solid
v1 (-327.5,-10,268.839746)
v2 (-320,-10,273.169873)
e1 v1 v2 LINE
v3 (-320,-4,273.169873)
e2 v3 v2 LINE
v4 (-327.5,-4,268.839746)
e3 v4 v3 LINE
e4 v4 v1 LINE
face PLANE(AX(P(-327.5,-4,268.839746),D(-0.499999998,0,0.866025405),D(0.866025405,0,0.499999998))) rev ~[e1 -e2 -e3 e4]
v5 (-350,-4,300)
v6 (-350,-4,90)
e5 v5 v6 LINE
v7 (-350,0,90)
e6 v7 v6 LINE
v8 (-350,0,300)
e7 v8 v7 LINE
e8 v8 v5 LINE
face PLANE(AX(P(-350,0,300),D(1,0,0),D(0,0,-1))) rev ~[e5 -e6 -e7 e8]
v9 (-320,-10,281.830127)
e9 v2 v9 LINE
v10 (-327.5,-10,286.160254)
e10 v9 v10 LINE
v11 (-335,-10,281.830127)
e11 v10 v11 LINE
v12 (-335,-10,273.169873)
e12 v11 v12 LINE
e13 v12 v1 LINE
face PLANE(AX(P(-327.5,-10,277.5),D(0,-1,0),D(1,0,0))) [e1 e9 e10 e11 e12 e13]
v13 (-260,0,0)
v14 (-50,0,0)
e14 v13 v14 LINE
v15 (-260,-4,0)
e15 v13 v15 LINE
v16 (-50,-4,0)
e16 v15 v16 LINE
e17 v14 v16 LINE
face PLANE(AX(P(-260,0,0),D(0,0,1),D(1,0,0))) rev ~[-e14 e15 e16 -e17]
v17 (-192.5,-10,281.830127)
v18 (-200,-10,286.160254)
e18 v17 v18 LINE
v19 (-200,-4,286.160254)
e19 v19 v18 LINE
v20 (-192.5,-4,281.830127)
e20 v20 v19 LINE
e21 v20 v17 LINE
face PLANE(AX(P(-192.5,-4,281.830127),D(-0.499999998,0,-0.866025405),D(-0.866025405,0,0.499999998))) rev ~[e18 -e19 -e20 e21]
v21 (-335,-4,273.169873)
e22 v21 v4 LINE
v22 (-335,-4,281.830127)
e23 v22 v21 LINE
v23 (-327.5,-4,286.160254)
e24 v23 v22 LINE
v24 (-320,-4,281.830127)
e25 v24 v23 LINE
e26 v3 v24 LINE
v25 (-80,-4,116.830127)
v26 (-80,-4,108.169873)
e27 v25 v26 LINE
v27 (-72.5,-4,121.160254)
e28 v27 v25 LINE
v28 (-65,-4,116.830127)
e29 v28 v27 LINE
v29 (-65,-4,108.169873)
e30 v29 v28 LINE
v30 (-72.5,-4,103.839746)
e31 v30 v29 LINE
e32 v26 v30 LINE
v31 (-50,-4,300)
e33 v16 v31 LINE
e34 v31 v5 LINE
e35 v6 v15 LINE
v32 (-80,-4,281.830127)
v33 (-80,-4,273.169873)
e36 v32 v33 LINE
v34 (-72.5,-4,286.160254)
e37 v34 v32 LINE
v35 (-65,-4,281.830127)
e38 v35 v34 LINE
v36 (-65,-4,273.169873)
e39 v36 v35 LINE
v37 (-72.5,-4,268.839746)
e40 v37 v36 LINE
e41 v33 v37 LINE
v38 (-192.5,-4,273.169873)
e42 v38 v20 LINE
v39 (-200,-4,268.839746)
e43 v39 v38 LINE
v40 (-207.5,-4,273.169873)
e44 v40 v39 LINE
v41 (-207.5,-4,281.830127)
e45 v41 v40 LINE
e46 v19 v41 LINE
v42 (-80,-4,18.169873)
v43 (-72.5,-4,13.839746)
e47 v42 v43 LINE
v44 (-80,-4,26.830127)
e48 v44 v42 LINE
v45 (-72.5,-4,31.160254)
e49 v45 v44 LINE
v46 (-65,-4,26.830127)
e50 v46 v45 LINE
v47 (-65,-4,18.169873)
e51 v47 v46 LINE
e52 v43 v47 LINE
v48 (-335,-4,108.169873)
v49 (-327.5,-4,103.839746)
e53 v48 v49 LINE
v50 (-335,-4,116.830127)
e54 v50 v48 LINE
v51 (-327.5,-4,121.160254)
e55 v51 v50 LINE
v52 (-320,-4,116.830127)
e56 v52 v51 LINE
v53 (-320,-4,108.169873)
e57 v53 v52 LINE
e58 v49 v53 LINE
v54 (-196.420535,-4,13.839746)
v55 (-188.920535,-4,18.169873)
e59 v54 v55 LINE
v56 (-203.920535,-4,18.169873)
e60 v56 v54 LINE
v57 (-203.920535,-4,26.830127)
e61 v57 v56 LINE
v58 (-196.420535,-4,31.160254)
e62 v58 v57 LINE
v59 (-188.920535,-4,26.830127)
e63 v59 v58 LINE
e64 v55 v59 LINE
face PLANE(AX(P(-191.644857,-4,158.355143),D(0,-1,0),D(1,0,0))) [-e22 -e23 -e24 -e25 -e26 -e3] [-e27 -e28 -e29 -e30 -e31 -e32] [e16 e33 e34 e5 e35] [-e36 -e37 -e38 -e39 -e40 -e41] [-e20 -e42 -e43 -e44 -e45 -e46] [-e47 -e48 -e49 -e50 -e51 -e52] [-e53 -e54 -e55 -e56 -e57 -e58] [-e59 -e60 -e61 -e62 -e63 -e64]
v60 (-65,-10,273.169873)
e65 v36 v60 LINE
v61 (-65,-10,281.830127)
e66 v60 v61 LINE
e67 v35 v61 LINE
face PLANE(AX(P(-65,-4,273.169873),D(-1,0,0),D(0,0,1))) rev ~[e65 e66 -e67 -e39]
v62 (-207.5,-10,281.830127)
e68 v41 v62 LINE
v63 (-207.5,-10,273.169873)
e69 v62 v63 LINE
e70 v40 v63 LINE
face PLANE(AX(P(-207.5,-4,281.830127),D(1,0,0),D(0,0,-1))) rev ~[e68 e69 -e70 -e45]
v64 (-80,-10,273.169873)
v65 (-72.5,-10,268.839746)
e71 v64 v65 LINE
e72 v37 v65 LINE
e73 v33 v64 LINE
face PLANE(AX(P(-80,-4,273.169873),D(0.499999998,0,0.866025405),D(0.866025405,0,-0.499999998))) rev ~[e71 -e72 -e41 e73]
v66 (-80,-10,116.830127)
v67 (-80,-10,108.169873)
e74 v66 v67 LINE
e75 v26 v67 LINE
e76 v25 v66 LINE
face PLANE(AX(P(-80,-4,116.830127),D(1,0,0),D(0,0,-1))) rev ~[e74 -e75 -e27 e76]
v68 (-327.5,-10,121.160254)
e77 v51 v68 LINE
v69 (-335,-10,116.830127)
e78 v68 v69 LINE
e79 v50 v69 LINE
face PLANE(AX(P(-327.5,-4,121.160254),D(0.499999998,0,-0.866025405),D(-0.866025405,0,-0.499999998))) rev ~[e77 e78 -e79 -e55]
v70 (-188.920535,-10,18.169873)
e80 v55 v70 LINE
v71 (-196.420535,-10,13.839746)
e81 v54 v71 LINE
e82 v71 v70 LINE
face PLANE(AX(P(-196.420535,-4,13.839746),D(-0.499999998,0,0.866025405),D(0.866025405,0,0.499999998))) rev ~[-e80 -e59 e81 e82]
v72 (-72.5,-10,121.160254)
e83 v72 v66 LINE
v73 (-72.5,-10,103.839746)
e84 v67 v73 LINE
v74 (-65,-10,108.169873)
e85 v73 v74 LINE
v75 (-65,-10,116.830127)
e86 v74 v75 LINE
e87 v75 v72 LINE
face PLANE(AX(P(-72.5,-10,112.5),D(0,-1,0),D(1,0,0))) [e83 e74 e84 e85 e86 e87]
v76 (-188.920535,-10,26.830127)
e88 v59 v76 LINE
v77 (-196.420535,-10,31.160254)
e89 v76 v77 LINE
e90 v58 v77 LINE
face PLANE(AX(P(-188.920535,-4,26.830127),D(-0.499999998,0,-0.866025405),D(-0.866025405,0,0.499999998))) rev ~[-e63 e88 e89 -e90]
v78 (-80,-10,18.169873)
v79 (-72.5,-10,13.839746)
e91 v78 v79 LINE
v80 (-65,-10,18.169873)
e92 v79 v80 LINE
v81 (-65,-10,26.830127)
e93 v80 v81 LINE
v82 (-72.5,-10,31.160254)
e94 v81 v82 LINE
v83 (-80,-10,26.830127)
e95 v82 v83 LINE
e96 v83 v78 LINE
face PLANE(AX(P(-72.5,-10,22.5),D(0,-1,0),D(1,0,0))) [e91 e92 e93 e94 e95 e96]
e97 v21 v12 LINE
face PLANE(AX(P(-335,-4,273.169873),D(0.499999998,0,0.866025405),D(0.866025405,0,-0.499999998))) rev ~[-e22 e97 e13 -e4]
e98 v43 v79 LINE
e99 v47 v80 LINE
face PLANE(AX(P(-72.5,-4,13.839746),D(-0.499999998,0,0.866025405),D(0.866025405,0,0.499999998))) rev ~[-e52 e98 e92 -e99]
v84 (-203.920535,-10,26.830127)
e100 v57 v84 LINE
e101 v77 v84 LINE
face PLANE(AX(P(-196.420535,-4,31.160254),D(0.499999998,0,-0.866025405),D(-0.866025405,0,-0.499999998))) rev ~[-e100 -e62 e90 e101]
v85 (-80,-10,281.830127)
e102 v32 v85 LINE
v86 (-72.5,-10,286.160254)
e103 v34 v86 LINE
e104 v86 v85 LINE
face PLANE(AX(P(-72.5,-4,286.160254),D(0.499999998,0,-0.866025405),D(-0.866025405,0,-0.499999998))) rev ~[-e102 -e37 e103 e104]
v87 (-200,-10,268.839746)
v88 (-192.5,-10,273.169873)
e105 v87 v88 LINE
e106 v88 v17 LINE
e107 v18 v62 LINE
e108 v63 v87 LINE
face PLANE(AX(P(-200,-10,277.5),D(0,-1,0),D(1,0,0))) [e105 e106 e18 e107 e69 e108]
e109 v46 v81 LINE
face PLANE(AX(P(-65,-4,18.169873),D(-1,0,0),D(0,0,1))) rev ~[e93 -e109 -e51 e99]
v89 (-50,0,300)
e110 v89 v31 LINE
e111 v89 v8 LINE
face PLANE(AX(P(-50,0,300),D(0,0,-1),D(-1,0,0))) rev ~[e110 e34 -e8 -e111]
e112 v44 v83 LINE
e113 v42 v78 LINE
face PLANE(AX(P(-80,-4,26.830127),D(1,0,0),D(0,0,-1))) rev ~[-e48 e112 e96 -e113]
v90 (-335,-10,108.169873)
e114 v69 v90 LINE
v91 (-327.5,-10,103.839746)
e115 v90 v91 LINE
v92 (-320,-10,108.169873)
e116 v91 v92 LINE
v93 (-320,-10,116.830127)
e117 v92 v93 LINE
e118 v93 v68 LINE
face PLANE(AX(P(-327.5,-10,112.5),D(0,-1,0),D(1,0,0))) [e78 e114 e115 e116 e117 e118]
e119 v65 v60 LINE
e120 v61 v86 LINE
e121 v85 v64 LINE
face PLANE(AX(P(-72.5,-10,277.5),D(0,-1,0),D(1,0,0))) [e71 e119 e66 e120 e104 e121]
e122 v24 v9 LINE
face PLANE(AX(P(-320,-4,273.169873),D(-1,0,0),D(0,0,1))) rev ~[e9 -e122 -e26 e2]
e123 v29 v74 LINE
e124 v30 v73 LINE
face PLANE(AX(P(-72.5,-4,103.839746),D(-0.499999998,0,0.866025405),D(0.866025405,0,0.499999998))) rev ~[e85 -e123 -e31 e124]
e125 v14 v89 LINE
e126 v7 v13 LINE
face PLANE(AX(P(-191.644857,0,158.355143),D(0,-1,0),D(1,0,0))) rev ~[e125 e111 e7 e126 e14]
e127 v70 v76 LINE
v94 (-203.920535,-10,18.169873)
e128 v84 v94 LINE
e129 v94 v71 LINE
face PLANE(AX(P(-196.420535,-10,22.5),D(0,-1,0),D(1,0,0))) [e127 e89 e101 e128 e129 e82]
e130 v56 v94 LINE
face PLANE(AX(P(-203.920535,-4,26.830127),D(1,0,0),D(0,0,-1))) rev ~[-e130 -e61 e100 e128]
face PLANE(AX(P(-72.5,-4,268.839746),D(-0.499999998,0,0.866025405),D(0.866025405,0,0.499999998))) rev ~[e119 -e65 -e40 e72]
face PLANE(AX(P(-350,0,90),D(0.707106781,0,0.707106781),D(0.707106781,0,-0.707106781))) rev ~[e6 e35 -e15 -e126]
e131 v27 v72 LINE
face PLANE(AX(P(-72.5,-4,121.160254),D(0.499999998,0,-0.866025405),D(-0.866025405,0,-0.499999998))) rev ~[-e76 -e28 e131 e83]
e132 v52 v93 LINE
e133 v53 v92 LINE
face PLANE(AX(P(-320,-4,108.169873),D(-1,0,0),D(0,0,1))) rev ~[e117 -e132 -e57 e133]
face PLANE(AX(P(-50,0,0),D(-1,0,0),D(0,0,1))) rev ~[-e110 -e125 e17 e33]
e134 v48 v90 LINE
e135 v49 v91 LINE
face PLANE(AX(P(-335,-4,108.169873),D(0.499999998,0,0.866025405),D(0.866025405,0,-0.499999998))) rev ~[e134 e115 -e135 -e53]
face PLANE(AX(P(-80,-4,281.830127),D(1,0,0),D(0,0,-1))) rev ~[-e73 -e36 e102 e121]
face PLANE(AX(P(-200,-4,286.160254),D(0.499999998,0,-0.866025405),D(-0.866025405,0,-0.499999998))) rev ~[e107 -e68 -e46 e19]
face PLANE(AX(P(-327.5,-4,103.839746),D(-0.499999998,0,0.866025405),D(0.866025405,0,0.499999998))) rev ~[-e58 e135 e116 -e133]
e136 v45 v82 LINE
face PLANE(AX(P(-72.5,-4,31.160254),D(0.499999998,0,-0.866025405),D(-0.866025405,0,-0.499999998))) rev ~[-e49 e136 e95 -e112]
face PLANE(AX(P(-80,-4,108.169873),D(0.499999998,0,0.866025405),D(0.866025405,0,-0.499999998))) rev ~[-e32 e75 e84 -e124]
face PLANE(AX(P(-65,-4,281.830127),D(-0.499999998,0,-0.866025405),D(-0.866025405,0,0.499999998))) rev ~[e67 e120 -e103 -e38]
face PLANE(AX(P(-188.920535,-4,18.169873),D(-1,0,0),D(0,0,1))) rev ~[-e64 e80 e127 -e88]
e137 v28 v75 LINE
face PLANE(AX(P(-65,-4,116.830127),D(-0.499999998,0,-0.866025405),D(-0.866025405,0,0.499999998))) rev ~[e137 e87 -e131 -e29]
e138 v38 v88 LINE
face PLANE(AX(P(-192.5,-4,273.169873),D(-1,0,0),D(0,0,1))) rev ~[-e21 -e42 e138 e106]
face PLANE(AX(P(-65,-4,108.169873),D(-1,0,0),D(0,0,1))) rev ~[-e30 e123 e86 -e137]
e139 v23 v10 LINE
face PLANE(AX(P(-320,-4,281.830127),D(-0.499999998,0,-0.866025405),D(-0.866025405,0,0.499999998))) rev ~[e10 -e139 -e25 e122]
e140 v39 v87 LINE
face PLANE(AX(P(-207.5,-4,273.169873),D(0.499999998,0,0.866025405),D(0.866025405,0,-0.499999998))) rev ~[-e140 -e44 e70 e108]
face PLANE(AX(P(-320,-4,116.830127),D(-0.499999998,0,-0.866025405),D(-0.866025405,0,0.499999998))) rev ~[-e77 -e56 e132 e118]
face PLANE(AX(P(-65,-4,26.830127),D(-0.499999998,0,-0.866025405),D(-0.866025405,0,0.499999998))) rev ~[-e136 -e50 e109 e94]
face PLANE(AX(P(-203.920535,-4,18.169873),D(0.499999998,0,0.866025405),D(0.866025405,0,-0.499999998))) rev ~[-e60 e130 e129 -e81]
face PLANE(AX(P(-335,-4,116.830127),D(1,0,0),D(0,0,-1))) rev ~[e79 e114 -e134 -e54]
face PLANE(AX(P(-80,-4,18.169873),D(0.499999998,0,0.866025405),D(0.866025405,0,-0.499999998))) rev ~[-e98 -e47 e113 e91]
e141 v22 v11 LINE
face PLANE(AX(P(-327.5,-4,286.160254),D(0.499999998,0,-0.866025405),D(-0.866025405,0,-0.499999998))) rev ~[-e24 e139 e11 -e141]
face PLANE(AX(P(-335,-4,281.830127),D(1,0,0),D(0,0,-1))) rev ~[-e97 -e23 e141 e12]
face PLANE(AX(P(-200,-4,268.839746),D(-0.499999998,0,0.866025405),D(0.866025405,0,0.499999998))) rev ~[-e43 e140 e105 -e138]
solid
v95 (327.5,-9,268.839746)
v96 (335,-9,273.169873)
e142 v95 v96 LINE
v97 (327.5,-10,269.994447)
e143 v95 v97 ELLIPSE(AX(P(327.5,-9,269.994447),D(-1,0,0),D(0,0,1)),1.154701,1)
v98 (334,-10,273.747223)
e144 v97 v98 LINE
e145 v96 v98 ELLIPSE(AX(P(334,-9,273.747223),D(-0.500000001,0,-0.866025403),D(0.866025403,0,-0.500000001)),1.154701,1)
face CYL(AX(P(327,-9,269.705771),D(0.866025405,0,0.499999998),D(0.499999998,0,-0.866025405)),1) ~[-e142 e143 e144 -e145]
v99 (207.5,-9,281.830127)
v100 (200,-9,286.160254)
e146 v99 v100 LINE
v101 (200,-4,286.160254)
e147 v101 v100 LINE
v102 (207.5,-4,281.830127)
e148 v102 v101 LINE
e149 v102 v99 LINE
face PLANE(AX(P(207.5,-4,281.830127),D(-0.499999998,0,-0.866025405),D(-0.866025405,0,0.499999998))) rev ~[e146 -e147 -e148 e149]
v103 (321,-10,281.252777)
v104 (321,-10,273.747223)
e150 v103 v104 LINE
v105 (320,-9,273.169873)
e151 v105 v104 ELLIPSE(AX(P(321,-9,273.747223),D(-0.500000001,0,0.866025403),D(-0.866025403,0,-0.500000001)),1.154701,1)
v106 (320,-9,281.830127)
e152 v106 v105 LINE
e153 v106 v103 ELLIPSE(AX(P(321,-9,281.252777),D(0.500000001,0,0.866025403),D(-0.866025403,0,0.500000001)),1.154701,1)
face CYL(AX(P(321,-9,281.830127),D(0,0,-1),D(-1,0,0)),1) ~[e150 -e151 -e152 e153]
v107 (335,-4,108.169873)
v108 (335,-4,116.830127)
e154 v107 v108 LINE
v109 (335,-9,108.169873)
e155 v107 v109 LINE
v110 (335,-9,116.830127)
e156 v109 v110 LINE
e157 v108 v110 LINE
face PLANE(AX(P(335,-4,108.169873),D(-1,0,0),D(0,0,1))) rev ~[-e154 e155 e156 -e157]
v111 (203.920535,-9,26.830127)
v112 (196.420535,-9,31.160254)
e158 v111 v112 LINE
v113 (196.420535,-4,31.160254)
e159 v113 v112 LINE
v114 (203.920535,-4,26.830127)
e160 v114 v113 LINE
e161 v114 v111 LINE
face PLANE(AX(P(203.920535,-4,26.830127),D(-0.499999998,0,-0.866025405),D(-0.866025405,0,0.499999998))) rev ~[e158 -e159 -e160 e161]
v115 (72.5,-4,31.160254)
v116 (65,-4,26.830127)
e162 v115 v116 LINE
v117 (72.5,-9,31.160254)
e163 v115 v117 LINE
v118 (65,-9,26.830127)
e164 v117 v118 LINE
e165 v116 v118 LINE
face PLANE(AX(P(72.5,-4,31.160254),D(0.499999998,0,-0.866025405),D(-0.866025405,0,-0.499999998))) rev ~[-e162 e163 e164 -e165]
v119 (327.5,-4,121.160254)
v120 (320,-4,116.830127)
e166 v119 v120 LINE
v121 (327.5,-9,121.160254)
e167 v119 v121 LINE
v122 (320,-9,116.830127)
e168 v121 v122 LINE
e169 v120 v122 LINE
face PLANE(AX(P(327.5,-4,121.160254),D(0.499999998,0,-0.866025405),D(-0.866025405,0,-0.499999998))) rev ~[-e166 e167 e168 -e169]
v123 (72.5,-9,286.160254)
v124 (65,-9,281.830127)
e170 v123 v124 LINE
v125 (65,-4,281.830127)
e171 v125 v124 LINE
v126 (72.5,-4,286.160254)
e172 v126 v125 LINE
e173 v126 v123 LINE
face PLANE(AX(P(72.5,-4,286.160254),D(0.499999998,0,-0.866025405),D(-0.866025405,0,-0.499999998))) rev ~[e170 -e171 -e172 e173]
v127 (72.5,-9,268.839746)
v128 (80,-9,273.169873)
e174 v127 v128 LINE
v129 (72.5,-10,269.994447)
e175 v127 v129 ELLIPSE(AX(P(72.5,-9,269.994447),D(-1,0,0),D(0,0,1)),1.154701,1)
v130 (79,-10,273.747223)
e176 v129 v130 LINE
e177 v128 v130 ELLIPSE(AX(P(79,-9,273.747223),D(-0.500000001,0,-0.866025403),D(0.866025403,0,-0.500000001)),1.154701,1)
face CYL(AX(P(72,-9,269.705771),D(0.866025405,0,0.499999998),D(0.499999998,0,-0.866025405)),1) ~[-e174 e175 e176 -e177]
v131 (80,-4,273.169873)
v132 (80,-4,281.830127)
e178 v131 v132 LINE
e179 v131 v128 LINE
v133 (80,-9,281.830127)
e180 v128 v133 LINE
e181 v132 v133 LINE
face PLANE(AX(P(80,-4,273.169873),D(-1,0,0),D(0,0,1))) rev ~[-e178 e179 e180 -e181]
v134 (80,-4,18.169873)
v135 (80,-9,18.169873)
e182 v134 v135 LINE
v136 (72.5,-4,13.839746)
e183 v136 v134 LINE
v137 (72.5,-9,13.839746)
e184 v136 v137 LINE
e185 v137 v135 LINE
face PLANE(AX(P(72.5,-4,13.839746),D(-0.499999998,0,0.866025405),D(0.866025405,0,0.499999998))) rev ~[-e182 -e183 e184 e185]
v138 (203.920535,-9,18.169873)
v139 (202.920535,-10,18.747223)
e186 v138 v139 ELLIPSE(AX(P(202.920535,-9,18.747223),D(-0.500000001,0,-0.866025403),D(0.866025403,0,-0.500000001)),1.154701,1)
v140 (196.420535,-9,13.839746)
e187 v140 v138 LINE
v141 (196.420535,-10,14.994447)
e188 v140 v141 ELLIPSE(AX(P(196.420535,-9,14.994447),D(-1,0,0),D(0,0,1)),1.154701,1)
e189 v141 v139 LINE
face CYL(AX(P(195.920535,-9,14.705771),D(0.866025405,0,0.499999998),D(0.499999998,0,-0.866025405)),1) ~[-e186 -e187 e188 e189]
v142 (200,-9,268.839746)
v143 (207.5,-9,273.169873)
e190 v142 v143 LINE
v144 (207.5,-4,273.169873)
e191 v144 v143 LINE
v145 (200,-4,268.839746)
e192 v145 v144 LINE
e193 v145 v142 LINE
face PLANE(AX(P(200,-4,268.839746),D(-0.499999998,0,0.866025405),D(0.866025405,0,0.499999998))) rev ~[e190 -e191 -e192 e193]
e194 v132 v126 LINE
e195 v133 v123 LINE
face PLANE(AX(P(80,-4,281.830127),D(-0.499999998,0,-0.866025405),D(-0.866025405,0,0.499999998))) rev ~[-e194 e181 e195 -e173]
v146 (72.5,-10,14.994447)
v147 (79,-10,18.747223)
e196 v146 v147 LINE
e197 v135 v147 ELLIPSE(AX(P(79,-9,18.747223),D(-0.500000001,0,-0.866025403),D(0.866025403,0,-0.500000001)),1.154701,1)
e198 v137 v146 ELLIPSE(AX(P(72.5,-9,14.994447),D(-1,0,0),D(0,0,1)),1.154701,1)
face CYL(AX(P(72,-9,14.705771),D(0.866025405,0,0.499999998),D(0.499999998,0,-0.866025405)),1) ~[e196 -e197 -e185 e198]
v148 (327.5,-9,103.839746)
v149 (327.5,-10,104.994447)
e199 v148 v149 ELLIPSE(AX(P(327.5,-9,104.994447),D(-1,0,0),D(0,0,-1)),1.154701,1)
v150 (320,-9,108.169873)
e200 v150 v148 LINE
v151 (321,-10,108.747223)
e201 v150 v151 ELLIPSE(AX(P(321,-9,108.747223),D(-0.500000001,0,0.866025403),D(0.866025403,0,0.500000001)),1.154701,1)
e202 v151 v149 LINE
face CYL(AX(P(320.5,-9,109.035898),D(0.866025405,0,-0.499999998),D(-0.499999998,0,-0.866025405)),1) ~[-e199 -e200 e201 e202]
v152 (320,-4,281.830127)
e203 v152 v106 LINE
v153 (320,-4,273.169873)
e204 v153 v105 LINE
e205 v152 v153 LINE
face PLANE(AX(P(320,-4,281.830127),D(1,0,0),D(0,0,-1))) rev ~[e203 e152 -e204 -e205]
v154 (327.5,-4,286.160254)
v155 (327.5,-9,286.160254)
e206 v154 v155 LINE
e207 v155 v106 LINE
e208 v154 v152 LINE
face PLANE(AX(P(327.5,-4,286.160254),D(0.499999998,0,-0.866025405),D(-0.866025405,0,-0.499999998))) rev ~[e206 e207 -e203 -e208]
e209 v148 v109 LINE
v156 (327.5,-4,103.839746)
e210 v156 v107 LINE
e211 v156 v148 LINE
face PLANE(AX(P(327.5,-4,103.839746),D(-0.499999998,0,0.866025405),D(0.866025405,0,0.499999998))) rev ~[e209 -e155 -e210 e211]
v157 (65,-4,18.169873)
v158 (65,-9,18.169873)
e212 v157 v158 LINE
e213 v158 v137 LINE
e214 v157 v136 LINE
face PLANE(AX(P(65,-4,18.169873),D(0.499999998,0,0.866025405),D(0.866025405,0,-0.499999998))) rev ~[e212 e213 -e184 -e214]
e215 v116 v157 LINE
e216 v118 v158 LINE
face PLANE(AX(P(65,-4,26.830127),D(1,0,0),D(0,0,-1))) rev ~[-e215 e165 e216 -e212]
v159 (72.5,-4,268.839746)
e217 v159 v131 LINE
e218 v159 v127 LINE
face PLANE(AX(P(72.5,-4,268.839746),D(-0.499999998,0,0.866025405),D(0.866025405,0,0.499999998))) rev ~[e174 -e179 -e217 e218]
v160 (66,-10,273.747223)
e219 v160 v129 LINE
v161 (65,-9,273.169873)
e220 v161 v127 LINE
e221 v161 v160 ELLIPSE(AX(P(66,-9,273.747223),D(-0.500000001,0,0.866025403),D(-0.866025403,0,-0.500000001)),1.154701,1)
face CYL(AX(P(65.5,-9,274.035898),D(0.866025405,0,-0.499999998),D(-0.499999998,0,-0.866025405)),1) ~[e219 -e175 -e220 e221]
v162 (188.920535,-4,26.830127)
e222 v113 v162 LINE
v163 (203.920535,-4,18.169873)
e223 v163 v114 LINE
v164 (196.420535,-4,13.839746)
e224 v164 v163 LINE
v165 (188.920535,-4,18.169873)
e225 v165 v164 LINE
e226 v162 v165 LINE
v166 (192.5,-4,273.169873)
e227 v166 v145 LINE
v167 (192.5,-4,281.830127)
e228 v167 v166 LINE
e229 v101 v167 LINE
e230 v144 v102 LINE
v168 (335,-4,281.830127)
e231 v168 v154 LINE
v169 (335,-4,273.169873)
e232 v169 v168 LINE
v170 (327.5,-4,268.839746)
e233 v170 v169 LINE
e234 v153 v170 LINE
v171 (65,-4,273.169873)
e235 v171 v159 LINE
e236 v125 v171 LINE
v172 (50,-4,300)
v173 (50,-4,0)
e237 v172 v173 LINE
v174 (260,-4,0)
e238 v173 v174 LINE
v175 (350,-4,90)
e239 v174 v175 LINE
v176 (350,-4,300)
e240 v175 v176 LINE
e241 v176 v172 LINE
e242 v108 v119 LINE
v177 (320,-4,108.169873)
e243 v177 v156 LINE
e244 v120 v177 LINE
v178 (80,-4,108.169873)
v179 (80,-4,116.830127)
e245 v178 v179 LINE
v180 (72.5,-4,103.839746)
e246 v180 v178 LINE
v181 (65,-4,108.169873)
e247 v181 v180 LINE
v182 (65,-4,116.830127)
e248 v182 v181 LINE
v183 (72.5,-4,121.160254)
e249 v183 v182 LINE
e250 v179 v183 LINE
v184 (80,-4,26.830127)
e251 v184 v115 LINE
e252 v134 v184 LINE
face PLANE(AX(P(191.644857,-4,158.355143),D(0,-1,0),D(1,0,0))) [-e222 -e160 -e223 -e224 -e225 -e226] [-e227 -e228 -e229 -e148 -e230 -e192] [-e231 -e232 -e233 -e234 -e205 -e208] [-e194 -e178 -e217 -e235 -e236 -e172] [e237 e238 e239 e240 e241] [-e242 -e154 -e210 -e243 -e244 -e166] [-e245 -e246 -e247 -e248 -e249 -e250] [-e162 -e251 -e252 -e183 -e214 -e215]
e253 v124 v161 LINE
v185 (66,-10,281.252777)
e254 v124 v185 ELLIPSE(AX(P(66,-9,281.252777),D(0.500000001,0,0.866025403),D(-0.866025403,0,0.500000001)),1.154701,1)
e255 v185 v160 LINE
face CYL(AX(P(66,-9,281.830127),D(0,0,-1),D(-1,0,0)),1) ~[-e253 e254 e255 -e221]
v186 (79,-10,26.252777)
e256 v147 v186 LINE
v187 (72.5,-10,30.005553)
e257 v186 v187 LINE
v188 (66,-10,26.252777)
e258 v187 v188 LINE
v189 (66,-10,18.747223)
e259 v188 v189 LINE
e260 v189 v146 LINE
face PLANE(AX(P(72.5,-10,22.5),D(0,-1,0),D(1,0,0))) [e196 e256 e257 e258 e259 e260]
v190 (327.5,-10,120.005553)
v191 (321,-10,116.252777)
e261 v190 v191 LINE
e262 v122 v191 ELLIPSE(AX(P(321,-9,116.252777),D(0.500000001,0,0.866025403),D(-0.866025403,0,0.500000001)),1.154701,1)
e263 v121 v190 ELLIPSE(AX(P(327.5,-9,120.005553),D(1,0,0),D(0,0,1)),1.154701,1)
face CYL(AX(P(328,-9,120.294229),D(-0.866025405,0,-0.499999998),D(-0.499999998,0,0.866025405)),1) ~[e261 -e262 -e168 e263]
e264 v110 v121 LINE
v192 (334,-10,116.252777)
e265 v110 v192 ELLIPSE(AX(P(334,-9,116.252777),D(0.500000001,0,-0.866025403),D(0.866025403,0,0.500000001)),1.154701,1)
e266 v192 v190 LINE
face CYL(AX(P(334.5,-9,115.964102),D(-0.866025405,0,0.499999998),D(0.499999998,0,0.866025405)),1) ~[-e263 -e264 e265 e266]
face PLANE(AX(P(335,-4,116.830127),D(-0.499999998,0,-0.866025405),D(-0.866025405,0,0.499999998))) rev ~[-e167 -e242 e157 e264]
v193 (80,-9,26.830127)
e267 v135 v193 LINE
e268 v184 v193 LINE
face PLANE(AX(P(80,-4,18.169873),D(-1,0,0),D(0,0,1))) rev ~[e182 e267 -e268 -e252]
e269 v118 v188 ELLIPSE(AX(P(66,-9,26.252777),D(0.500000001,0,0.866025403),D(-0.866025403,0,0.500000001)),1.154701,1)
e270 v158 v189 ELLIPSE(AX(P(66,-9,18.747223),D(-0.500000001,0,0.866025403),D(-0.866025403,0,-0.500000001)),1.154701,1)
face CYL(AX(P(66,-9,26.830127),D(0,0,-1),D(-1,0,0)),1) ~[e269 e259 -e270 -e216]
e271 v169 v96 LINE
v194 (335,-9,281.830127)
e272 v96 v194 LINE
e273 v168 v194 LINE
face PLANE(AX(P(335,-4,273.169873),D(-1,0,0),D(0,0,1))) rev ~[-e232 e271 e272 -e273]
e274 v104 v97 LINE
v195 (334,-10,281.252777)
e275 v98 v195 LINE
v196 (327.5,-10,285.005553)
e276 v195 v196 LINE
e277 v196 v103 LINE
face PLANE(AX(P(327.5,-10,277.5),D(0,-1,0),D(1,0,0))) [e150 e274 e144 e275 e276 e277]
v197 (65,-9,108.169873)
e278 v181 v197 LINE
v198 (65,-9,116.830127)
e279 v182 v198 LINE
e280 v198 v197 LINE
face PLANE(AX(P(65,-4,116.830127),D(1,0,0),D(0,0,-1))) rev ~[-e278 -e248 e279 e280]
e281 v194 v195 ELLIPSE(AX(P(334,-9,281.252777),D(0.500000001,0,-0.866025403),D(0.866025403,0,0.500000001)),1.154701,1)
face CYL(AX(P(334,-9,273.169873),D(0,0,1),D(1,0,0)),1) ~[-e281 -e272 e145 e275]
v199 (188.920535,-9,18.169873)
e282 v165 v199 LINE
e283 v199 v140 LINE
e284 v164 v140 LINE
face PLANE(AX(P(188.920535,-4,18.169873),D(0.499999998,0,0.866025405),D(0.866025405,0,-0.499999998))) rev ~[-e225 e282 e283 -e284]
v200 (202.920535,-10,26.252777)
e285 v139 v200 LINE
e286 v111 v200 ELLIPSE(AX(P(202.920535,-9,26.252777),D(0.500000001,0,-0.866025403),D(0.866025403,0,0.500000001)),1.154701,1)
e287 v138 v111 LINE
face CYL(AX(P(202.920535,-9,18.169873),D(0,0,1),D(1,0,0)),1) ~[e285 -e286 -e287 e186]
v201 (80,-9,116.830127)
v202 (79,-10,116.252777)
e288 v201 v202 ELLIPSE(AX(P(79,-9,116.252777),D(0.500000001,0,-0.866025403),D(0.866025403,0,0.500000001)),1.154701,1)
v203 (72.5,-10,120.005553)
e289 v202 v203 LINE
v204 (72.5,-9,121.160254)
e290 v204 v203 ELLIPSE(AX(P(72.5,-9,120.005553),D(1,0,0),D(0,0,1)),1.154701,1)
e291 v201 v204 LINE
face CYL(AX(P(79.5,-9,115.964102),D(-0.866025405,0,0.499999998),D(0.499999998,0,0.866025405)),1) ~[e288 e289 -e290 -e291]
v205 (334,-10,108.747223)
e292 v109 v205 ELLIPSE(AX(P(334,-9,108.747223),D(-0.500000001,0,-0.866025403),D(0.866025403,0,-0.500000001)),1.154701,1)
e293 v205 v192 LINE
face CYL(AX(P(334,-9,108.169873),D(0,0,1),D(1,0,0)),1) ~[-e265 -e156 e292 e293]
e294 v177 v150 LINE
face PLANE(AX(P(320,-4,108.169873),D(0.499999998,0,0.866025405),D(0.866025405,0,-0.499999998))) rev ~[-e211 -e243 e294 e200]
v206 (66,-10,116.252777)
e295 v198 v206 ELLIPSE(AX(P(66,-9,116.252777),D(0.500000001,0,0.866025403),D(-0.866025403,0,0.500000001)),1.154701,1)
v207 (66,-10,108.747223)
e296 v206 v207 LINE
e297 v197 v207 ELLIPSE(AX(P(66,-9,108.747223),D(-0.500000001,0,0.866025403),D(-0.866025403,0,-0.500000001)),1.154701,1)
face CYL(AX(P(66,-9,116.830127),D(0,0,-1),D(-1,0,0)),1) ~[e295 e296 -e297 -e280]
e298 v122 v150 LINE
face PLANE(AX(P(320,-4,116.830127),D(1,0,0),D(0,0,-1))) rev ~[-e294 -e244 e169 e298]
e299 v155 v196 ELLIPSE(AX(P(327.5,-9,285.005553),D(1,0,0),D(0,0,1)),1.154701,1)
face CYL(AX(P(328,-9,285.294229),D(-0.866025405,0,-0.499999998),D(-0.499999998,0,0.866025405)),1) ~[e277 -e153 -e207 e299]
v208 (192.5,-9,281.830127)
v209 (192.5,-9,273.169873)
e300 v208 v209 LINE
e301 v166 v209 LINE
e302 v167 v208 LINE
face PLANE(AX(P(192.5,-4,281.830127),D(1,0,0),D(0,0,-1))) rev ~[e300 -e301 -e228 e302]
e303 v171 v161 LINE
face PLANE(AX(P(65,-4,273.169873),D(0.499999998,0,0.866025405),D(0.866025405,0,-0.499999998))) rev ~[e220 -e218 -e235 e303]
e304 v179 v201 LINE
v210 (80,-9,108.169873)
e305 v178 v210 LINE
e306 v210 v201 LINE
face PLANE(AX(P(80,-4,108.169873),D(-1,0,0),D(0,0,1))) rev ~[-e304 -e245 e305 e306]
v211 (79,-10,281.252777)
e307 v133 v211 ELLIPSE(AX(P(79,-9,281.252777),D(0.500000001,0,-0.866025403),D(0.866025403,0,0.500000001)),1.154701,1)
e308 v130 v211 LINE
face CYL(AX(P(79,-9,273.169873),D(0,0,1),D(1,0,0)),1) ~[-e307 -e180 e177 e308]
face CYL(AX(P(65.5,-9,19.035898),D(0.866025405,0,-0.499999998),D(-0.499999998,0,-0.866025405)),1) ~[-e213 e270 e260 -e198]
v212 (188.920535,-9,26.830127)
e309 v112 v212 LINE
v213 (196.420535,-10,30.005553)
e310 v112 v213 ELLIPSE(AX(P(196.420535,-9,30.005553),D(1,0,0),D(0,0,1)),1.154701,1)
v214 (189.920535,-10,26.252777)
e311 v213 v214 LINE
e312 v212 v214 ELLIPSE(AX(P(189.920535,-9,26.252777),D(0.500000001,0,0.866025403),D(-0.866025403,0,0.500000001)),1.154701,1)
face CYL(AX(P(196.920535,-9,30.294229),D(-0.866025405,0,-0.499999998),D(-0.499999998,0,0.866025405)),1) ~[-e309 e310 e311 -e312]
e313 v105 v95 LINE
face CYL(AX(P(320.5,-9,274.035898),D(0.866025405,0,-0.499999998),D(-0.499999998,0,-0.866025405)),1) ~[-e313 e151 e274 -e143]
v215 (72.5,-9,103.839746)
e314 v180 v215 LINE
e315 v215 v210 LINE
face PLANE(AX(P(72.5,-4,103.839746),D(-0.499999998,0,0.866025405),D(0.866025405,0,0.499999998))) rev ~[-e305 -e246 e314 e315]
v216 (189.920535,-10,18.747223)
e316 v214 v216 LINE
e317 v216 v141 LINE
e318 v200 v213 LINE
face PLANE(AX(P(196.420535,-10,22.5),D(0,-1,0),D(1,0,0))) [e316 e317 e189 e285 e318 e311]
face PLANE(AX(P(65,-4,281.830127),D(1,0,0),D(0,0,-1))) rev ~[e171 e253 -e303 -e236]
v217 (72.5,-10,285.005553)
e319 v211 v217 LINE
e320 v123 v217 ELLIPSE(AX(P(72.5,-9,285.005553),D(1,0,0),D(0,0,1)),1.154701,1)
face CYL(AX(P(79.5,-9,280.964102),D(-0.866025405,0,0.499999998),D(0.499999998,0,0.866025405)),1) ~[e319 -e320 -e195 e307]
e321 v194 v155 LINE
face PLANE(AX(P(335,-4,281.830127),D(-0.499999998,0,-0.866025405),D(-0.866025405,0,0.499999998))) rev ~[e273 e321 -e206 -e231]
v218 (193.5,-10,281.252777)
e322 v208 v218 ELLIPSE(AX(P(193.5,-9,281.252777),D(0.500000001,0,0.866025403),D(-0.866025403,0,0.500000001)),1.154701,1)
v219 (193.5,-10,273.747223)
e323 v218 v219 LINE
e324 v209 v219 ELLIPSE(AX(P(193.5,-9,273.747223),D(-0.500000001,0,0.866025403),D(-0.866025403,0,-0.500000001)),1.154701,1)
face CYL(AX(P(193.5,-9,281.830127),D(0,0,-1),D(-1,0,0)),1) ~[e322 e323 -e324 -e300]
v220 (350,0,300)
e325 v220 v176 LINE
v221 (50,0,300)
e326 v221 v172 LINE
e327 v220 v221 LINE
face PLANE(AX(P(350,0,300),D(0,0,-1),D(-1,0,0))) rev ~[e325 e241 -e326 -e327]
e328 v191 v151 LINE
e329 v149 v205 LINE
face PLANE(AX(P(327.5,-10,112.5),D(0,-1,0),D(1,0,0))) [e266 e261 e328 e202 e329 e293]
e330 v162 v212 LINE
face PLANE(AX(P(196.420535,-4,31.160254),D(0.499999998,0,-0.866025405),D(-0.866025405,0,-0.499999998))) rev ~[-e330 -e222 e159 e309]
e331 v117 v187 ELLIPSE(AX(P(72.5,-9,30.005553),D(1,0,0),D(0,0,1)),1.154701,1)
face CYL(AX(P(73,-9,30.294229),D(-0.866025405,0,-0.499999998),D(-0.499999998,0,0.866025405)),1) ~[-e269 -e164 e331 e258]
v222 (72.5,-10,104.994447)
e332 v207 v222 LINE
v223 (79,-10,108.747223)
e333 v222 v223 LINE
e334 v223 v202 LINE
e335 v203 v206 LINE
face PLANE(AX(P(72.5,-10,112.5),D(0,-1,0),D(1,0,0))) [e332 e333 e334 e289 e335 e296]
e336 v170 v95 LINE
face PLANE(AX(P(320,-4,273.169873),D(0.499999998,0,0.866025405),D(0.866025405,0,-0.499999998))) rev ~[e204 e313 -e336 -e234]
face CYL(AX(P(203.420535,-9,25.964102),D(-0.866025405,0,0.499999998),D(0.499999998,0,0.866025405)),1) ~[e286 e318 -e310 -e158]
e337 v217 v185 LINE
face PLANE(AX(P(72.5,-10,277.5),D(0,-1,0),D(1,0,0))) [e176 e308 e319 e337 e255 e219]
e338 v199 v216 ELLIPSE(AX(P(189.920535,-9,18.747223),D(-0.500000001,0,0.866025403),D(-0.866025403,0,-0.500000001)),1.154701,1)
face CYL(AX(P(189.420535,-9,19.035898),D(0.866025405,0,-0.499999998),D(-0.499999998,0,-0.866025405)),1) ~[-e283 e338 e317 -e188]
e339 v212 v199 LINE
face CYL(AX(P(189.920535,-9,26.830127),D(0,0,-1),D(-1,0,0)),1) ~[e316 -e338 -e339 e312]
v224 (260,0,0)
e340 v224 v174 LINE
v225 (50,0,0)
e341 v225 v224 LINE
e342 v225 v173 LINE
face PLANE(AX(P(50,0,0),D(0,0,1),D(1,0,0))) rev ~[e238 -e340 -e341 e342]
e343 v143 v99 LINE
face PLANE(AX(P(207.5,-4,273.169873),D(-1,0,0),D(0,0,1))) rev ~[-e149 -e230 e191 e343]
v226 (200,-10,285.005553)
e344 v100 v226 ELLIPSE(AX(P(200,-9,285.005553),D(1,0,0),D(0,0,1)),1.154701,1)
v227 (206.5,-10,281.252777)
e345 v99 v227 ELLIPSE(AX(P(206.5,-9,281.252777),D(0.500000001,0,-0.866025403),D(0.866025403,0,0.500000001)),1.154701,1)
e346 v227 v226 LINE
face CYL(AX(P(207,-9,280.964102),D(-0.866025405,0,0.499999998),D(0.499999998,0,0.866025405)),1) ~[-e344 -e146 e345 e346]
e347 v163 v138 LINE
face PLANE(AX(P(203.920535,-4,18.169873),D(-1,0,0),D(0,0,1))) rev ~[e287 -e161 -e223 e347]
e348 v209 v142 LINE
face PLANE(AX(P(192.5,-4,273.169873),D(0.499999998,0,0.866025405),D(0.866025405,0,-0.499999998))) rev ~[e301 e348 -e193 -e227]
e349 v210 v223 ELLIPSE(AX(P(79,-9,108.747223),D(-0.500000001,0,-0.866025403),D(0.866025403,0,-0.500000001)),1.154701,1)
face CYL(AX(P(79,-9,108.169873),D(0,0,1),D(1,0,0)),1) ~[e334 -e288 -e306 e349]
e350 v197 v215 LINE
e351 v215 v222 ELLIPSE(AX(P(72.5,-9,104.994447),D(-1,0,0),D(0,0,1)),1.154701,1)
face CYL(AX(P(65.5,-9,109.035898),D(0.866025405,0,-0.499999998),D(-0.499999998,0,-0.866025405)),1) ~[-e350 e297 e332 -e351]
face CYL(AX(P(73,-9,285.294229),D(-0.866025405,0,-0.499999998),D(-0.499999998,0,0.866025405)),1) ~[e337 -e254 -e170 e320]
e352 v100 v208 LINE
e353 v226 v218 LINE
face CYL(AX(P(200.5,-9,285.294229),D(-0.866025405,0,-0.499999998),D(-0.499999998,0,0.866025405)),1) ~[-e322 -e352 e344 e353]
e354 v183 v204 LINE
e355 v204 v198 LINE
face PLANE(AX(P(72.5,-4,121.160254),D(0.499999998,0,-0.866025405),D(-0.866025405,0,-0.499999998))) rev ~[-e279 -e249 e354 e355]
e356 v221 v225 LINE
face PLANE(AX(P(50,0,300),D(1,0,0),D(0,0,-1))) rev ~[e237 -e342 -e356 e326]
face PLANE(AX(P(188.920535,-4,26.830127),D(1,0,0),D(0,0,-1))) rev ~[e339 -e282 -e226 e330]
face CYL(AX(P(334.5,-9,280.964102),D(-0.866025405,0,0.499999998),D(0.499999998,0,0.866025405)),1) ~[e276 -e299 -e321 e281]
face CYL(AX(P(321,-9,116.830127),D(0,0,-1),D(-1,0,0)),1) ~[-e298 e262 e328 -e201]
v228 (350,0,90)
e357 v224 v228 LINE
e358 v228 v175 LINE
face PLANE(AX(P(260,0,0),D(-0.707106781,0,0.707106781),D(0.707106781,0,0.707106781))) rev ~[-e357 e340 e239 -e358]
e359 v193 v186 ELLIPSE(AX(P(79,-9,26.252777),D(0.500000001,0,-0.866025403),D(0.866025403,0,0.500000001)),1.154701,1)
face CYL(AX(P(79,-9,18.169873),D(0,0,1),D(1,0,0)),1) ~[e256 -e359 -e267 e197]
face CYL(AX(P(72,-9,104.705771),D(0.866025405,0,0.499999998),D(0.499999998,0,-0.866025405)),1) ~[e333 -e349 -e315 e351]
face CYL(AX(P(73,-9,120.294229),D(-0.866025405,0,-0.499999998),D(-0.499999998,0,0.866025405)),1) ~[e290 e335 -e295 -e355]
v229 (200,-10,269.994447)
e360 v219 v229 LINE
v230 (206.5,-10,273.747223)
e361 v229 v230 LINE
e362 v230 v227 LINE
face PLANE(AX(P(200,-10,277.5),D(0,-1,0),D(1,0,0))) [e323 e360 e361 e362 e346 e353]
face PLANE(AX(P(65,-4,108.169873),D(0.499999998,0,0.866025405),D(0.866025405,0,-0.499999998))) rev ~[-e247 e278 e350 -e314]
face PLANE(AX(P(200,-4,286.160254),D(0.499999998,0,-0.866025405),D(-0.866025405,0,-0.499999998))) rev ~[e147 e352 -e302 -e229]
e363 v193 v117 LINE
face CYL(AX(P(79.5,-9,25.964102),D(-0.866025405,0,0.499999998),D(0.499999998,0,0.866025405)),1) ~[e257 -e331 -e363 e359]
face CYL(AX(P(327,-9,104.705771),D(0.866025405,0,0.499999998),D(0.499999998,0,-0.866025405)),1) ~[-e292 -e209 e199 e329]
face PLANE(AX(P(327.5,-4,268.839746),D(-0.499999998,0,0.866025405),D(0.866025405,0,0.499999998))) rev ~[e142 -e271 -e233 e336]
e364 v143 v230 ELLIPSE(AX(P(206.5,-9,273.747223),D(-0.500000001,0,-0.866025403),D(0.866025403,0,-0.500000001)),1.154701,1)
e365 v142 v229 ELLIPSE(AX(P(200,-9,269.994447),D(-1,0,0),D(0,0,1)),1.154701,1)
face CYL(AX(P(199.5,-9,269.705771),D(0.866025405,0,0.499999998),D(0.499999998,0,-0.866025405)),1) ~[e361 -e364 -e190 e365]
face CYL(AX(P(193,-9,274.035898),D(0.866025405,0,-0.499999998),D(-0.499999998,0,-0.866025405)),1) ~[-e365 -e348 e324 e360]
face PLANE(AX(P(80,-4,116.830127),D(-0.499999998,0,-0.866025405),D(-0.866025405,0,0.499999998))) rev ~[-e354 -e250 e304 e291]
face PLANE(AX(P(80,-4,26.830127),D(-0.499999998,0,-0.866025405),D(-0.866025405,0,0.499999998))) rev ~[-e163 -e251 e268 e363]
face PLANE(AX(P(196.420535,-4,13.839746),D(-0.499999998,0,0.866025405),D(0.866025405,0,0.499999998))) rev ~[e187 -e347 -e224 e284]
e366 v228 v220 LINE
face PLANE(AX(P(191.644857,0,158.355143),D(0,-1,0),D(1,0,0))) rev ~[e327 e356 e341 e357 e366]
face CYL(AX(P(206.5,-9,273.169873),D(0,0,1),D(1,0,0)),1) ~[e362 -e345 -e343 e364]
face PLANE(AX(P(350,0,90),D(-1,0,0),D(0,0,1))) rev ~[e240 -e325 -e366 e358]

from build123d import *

# Parameters (mm, degrees)
F1_DEPTH = 4
F3_DEPTH = 6
F4_R     = 1


with BuildPart() as f1:
    # F0 (on Front) → F1 (new body)
    with BuildSketch(Plane.XZ):
        Polygon((50, 300), (50, 0), (260, 0), (350, 90), (350, 300), align=None)
        Polygon((-350, 300), (-350, 90), (-260, 0), (-50, 0), (-50, 300), align=None)
    extrude(amount=F1_DEPTH)

    # F2 (on face) → F3 (join)
    with BuildSketch(Plane.XZ.offset(4)):
        Polygon((72.5, 268.839746), (80, 273.169873), (80, 281.830127), (72.5, 286.160254), (65, 281.830127), (65, 273.169873), align=None)
        Polygon((200, 268.839746), (207.5, 273.169873), (207.5, 281.830127), (200, 286.160254), (192.5, 281.830127), (192.5, 273.169873), align=None)
        Polygon((327.5, 268.839746), (335, 273.169873), (335, 281.830127), (327.5, 286.160254), (320, 281.830127), (320, 273.169873), align=None)
        Polygon((327.5, 103.839746), (335, 108.169873), (335, 116.830127), (327.5, 121.160254), (320, 116.830127), (320, 108.169873), align=None)
        Polygon((72.5, 103.839746), (80, 108.169873), (80, 116.830127), (72.5, 121.160254), (65, 116.830127), (65, 108.169873), align=None)
        Polygon((72.5, 13.839746), (80, 18.169873), (80, 26.830127), (72.5, 31.160254), (65, 26.830127), (65, 18.169873), align=None)
        Polygon((196.420535, 13.839746), (203.920535, 18.169873), (203.920535, 26.830127), (196.420535, 31.160254), (188.920535, 26.830127), (188.920535, 18.169873), align=None)
        Polygon((-327.5, 103.839746), (-320, 108.169873), (-320, 116.830127), (-327.5, 121.160254), (-335, 116.830127), (-335, 108.169873), align=None)
        Polygon((-80, 108.169873), (-72.5, 103.839746), (-65, 108.169873), (-65, 116.830127), (-72.5, 121.160254), (-80, 116.830127), align=None)
        Polygon((-203.920535, 26.830127), (-203.920535, 18.169873), (-196.420535, 13.839746), (-188.920535, 18.169873), (-188.920535, 26.830127), (-196.420535, 31.160254), align=None)
        Polygon((-200, 286.160254), (-207.5, 281.830127), (-207.5, 273.169873), (-200, 268.839746), (-192.5, 273.169873), (-192.5, 281.830127), align=None)
        Polygon((-72.5, 268.839746), (-65, 273.169873), (-65, 281.830127), (-72.5, 286.160254), (-80, 281.830127), (-80, 273.169873), align=None)
        Polygon((-327.5, 286.160254), (-335, 281.830127), (-335, 273.169873), (-327.5, 268.839746), (-320, 273.169873), (-320, 281.830127), align=None)
        Polygon((-65, 18.169873), (-65, 26.830127), (-72.5, 31.160254), (-80, 26.830127), (-80, 18.169873), (-72.5, 13.839746), align=None)
    extrude(amount=F3_DEPTH)

    # F4
    f4_edges = [f1.edges().sort_by_distance(p)[0] for p in [
        (76.25, -10, 271.004809),
        (80, -10, 277.5),
        (76.25, -10, 283.995191),
        (68.75, -10, 283.995191),
        (65, -10, 277.5),
        (68.75, -10, 271.004809),
        (203.75, -10, 271.004809),
        (207.5, -10, 277.5),
        (203.75, -10, 283.995191),
        (196.25, -10, 283.995191),
        (192.5, -10, 277.5),
        (196.25, -10, 271.004809),
        (331.25, -10, 271.004809),
        (335, -10, 277.5),
        (331.25, -10, 283.995191),
        (323.75, -10, 283.995191),
        (320, -10, 277.5),
        (323.75, -10, 271.004809),
        (76.25, -10, 106.004809),
        (80, -10, 112.5),
        (76.25, -10, 118.995191),
        (68.75, -10, 118.995191),
        (65, -10, 112.5),
        (68.75, -10, 106.004809),
        (323.75, -10, 106.004809),
        (331.25, -10, 106.004809),
        (335, -10, 112.5),
        (331.25, -10, 118.995191),
        (323.75, -10, 118.995191),
        (320, -10, 112.5),
        (200.170535, -10, 16.004809),
        (203.920535, -10, 22.5),
        (200.170535, -10, 28.995191),
        (192.670535, -10, 28.995191),
        (188.920535, -10, 22.5),
        (192.670535, -10, 16.004809),
        (76.25, -10, 16.004809),
        (80, -10, 22.5),
        (76.25, -10, 28.995191),
        (68.75, -10, 28.995191),
        (65, -10, 22.5),
        (68.75, -10, 16.004809),
    ]]
    fillet(f4_edges, radius=F4_R)


solid = f1.part
